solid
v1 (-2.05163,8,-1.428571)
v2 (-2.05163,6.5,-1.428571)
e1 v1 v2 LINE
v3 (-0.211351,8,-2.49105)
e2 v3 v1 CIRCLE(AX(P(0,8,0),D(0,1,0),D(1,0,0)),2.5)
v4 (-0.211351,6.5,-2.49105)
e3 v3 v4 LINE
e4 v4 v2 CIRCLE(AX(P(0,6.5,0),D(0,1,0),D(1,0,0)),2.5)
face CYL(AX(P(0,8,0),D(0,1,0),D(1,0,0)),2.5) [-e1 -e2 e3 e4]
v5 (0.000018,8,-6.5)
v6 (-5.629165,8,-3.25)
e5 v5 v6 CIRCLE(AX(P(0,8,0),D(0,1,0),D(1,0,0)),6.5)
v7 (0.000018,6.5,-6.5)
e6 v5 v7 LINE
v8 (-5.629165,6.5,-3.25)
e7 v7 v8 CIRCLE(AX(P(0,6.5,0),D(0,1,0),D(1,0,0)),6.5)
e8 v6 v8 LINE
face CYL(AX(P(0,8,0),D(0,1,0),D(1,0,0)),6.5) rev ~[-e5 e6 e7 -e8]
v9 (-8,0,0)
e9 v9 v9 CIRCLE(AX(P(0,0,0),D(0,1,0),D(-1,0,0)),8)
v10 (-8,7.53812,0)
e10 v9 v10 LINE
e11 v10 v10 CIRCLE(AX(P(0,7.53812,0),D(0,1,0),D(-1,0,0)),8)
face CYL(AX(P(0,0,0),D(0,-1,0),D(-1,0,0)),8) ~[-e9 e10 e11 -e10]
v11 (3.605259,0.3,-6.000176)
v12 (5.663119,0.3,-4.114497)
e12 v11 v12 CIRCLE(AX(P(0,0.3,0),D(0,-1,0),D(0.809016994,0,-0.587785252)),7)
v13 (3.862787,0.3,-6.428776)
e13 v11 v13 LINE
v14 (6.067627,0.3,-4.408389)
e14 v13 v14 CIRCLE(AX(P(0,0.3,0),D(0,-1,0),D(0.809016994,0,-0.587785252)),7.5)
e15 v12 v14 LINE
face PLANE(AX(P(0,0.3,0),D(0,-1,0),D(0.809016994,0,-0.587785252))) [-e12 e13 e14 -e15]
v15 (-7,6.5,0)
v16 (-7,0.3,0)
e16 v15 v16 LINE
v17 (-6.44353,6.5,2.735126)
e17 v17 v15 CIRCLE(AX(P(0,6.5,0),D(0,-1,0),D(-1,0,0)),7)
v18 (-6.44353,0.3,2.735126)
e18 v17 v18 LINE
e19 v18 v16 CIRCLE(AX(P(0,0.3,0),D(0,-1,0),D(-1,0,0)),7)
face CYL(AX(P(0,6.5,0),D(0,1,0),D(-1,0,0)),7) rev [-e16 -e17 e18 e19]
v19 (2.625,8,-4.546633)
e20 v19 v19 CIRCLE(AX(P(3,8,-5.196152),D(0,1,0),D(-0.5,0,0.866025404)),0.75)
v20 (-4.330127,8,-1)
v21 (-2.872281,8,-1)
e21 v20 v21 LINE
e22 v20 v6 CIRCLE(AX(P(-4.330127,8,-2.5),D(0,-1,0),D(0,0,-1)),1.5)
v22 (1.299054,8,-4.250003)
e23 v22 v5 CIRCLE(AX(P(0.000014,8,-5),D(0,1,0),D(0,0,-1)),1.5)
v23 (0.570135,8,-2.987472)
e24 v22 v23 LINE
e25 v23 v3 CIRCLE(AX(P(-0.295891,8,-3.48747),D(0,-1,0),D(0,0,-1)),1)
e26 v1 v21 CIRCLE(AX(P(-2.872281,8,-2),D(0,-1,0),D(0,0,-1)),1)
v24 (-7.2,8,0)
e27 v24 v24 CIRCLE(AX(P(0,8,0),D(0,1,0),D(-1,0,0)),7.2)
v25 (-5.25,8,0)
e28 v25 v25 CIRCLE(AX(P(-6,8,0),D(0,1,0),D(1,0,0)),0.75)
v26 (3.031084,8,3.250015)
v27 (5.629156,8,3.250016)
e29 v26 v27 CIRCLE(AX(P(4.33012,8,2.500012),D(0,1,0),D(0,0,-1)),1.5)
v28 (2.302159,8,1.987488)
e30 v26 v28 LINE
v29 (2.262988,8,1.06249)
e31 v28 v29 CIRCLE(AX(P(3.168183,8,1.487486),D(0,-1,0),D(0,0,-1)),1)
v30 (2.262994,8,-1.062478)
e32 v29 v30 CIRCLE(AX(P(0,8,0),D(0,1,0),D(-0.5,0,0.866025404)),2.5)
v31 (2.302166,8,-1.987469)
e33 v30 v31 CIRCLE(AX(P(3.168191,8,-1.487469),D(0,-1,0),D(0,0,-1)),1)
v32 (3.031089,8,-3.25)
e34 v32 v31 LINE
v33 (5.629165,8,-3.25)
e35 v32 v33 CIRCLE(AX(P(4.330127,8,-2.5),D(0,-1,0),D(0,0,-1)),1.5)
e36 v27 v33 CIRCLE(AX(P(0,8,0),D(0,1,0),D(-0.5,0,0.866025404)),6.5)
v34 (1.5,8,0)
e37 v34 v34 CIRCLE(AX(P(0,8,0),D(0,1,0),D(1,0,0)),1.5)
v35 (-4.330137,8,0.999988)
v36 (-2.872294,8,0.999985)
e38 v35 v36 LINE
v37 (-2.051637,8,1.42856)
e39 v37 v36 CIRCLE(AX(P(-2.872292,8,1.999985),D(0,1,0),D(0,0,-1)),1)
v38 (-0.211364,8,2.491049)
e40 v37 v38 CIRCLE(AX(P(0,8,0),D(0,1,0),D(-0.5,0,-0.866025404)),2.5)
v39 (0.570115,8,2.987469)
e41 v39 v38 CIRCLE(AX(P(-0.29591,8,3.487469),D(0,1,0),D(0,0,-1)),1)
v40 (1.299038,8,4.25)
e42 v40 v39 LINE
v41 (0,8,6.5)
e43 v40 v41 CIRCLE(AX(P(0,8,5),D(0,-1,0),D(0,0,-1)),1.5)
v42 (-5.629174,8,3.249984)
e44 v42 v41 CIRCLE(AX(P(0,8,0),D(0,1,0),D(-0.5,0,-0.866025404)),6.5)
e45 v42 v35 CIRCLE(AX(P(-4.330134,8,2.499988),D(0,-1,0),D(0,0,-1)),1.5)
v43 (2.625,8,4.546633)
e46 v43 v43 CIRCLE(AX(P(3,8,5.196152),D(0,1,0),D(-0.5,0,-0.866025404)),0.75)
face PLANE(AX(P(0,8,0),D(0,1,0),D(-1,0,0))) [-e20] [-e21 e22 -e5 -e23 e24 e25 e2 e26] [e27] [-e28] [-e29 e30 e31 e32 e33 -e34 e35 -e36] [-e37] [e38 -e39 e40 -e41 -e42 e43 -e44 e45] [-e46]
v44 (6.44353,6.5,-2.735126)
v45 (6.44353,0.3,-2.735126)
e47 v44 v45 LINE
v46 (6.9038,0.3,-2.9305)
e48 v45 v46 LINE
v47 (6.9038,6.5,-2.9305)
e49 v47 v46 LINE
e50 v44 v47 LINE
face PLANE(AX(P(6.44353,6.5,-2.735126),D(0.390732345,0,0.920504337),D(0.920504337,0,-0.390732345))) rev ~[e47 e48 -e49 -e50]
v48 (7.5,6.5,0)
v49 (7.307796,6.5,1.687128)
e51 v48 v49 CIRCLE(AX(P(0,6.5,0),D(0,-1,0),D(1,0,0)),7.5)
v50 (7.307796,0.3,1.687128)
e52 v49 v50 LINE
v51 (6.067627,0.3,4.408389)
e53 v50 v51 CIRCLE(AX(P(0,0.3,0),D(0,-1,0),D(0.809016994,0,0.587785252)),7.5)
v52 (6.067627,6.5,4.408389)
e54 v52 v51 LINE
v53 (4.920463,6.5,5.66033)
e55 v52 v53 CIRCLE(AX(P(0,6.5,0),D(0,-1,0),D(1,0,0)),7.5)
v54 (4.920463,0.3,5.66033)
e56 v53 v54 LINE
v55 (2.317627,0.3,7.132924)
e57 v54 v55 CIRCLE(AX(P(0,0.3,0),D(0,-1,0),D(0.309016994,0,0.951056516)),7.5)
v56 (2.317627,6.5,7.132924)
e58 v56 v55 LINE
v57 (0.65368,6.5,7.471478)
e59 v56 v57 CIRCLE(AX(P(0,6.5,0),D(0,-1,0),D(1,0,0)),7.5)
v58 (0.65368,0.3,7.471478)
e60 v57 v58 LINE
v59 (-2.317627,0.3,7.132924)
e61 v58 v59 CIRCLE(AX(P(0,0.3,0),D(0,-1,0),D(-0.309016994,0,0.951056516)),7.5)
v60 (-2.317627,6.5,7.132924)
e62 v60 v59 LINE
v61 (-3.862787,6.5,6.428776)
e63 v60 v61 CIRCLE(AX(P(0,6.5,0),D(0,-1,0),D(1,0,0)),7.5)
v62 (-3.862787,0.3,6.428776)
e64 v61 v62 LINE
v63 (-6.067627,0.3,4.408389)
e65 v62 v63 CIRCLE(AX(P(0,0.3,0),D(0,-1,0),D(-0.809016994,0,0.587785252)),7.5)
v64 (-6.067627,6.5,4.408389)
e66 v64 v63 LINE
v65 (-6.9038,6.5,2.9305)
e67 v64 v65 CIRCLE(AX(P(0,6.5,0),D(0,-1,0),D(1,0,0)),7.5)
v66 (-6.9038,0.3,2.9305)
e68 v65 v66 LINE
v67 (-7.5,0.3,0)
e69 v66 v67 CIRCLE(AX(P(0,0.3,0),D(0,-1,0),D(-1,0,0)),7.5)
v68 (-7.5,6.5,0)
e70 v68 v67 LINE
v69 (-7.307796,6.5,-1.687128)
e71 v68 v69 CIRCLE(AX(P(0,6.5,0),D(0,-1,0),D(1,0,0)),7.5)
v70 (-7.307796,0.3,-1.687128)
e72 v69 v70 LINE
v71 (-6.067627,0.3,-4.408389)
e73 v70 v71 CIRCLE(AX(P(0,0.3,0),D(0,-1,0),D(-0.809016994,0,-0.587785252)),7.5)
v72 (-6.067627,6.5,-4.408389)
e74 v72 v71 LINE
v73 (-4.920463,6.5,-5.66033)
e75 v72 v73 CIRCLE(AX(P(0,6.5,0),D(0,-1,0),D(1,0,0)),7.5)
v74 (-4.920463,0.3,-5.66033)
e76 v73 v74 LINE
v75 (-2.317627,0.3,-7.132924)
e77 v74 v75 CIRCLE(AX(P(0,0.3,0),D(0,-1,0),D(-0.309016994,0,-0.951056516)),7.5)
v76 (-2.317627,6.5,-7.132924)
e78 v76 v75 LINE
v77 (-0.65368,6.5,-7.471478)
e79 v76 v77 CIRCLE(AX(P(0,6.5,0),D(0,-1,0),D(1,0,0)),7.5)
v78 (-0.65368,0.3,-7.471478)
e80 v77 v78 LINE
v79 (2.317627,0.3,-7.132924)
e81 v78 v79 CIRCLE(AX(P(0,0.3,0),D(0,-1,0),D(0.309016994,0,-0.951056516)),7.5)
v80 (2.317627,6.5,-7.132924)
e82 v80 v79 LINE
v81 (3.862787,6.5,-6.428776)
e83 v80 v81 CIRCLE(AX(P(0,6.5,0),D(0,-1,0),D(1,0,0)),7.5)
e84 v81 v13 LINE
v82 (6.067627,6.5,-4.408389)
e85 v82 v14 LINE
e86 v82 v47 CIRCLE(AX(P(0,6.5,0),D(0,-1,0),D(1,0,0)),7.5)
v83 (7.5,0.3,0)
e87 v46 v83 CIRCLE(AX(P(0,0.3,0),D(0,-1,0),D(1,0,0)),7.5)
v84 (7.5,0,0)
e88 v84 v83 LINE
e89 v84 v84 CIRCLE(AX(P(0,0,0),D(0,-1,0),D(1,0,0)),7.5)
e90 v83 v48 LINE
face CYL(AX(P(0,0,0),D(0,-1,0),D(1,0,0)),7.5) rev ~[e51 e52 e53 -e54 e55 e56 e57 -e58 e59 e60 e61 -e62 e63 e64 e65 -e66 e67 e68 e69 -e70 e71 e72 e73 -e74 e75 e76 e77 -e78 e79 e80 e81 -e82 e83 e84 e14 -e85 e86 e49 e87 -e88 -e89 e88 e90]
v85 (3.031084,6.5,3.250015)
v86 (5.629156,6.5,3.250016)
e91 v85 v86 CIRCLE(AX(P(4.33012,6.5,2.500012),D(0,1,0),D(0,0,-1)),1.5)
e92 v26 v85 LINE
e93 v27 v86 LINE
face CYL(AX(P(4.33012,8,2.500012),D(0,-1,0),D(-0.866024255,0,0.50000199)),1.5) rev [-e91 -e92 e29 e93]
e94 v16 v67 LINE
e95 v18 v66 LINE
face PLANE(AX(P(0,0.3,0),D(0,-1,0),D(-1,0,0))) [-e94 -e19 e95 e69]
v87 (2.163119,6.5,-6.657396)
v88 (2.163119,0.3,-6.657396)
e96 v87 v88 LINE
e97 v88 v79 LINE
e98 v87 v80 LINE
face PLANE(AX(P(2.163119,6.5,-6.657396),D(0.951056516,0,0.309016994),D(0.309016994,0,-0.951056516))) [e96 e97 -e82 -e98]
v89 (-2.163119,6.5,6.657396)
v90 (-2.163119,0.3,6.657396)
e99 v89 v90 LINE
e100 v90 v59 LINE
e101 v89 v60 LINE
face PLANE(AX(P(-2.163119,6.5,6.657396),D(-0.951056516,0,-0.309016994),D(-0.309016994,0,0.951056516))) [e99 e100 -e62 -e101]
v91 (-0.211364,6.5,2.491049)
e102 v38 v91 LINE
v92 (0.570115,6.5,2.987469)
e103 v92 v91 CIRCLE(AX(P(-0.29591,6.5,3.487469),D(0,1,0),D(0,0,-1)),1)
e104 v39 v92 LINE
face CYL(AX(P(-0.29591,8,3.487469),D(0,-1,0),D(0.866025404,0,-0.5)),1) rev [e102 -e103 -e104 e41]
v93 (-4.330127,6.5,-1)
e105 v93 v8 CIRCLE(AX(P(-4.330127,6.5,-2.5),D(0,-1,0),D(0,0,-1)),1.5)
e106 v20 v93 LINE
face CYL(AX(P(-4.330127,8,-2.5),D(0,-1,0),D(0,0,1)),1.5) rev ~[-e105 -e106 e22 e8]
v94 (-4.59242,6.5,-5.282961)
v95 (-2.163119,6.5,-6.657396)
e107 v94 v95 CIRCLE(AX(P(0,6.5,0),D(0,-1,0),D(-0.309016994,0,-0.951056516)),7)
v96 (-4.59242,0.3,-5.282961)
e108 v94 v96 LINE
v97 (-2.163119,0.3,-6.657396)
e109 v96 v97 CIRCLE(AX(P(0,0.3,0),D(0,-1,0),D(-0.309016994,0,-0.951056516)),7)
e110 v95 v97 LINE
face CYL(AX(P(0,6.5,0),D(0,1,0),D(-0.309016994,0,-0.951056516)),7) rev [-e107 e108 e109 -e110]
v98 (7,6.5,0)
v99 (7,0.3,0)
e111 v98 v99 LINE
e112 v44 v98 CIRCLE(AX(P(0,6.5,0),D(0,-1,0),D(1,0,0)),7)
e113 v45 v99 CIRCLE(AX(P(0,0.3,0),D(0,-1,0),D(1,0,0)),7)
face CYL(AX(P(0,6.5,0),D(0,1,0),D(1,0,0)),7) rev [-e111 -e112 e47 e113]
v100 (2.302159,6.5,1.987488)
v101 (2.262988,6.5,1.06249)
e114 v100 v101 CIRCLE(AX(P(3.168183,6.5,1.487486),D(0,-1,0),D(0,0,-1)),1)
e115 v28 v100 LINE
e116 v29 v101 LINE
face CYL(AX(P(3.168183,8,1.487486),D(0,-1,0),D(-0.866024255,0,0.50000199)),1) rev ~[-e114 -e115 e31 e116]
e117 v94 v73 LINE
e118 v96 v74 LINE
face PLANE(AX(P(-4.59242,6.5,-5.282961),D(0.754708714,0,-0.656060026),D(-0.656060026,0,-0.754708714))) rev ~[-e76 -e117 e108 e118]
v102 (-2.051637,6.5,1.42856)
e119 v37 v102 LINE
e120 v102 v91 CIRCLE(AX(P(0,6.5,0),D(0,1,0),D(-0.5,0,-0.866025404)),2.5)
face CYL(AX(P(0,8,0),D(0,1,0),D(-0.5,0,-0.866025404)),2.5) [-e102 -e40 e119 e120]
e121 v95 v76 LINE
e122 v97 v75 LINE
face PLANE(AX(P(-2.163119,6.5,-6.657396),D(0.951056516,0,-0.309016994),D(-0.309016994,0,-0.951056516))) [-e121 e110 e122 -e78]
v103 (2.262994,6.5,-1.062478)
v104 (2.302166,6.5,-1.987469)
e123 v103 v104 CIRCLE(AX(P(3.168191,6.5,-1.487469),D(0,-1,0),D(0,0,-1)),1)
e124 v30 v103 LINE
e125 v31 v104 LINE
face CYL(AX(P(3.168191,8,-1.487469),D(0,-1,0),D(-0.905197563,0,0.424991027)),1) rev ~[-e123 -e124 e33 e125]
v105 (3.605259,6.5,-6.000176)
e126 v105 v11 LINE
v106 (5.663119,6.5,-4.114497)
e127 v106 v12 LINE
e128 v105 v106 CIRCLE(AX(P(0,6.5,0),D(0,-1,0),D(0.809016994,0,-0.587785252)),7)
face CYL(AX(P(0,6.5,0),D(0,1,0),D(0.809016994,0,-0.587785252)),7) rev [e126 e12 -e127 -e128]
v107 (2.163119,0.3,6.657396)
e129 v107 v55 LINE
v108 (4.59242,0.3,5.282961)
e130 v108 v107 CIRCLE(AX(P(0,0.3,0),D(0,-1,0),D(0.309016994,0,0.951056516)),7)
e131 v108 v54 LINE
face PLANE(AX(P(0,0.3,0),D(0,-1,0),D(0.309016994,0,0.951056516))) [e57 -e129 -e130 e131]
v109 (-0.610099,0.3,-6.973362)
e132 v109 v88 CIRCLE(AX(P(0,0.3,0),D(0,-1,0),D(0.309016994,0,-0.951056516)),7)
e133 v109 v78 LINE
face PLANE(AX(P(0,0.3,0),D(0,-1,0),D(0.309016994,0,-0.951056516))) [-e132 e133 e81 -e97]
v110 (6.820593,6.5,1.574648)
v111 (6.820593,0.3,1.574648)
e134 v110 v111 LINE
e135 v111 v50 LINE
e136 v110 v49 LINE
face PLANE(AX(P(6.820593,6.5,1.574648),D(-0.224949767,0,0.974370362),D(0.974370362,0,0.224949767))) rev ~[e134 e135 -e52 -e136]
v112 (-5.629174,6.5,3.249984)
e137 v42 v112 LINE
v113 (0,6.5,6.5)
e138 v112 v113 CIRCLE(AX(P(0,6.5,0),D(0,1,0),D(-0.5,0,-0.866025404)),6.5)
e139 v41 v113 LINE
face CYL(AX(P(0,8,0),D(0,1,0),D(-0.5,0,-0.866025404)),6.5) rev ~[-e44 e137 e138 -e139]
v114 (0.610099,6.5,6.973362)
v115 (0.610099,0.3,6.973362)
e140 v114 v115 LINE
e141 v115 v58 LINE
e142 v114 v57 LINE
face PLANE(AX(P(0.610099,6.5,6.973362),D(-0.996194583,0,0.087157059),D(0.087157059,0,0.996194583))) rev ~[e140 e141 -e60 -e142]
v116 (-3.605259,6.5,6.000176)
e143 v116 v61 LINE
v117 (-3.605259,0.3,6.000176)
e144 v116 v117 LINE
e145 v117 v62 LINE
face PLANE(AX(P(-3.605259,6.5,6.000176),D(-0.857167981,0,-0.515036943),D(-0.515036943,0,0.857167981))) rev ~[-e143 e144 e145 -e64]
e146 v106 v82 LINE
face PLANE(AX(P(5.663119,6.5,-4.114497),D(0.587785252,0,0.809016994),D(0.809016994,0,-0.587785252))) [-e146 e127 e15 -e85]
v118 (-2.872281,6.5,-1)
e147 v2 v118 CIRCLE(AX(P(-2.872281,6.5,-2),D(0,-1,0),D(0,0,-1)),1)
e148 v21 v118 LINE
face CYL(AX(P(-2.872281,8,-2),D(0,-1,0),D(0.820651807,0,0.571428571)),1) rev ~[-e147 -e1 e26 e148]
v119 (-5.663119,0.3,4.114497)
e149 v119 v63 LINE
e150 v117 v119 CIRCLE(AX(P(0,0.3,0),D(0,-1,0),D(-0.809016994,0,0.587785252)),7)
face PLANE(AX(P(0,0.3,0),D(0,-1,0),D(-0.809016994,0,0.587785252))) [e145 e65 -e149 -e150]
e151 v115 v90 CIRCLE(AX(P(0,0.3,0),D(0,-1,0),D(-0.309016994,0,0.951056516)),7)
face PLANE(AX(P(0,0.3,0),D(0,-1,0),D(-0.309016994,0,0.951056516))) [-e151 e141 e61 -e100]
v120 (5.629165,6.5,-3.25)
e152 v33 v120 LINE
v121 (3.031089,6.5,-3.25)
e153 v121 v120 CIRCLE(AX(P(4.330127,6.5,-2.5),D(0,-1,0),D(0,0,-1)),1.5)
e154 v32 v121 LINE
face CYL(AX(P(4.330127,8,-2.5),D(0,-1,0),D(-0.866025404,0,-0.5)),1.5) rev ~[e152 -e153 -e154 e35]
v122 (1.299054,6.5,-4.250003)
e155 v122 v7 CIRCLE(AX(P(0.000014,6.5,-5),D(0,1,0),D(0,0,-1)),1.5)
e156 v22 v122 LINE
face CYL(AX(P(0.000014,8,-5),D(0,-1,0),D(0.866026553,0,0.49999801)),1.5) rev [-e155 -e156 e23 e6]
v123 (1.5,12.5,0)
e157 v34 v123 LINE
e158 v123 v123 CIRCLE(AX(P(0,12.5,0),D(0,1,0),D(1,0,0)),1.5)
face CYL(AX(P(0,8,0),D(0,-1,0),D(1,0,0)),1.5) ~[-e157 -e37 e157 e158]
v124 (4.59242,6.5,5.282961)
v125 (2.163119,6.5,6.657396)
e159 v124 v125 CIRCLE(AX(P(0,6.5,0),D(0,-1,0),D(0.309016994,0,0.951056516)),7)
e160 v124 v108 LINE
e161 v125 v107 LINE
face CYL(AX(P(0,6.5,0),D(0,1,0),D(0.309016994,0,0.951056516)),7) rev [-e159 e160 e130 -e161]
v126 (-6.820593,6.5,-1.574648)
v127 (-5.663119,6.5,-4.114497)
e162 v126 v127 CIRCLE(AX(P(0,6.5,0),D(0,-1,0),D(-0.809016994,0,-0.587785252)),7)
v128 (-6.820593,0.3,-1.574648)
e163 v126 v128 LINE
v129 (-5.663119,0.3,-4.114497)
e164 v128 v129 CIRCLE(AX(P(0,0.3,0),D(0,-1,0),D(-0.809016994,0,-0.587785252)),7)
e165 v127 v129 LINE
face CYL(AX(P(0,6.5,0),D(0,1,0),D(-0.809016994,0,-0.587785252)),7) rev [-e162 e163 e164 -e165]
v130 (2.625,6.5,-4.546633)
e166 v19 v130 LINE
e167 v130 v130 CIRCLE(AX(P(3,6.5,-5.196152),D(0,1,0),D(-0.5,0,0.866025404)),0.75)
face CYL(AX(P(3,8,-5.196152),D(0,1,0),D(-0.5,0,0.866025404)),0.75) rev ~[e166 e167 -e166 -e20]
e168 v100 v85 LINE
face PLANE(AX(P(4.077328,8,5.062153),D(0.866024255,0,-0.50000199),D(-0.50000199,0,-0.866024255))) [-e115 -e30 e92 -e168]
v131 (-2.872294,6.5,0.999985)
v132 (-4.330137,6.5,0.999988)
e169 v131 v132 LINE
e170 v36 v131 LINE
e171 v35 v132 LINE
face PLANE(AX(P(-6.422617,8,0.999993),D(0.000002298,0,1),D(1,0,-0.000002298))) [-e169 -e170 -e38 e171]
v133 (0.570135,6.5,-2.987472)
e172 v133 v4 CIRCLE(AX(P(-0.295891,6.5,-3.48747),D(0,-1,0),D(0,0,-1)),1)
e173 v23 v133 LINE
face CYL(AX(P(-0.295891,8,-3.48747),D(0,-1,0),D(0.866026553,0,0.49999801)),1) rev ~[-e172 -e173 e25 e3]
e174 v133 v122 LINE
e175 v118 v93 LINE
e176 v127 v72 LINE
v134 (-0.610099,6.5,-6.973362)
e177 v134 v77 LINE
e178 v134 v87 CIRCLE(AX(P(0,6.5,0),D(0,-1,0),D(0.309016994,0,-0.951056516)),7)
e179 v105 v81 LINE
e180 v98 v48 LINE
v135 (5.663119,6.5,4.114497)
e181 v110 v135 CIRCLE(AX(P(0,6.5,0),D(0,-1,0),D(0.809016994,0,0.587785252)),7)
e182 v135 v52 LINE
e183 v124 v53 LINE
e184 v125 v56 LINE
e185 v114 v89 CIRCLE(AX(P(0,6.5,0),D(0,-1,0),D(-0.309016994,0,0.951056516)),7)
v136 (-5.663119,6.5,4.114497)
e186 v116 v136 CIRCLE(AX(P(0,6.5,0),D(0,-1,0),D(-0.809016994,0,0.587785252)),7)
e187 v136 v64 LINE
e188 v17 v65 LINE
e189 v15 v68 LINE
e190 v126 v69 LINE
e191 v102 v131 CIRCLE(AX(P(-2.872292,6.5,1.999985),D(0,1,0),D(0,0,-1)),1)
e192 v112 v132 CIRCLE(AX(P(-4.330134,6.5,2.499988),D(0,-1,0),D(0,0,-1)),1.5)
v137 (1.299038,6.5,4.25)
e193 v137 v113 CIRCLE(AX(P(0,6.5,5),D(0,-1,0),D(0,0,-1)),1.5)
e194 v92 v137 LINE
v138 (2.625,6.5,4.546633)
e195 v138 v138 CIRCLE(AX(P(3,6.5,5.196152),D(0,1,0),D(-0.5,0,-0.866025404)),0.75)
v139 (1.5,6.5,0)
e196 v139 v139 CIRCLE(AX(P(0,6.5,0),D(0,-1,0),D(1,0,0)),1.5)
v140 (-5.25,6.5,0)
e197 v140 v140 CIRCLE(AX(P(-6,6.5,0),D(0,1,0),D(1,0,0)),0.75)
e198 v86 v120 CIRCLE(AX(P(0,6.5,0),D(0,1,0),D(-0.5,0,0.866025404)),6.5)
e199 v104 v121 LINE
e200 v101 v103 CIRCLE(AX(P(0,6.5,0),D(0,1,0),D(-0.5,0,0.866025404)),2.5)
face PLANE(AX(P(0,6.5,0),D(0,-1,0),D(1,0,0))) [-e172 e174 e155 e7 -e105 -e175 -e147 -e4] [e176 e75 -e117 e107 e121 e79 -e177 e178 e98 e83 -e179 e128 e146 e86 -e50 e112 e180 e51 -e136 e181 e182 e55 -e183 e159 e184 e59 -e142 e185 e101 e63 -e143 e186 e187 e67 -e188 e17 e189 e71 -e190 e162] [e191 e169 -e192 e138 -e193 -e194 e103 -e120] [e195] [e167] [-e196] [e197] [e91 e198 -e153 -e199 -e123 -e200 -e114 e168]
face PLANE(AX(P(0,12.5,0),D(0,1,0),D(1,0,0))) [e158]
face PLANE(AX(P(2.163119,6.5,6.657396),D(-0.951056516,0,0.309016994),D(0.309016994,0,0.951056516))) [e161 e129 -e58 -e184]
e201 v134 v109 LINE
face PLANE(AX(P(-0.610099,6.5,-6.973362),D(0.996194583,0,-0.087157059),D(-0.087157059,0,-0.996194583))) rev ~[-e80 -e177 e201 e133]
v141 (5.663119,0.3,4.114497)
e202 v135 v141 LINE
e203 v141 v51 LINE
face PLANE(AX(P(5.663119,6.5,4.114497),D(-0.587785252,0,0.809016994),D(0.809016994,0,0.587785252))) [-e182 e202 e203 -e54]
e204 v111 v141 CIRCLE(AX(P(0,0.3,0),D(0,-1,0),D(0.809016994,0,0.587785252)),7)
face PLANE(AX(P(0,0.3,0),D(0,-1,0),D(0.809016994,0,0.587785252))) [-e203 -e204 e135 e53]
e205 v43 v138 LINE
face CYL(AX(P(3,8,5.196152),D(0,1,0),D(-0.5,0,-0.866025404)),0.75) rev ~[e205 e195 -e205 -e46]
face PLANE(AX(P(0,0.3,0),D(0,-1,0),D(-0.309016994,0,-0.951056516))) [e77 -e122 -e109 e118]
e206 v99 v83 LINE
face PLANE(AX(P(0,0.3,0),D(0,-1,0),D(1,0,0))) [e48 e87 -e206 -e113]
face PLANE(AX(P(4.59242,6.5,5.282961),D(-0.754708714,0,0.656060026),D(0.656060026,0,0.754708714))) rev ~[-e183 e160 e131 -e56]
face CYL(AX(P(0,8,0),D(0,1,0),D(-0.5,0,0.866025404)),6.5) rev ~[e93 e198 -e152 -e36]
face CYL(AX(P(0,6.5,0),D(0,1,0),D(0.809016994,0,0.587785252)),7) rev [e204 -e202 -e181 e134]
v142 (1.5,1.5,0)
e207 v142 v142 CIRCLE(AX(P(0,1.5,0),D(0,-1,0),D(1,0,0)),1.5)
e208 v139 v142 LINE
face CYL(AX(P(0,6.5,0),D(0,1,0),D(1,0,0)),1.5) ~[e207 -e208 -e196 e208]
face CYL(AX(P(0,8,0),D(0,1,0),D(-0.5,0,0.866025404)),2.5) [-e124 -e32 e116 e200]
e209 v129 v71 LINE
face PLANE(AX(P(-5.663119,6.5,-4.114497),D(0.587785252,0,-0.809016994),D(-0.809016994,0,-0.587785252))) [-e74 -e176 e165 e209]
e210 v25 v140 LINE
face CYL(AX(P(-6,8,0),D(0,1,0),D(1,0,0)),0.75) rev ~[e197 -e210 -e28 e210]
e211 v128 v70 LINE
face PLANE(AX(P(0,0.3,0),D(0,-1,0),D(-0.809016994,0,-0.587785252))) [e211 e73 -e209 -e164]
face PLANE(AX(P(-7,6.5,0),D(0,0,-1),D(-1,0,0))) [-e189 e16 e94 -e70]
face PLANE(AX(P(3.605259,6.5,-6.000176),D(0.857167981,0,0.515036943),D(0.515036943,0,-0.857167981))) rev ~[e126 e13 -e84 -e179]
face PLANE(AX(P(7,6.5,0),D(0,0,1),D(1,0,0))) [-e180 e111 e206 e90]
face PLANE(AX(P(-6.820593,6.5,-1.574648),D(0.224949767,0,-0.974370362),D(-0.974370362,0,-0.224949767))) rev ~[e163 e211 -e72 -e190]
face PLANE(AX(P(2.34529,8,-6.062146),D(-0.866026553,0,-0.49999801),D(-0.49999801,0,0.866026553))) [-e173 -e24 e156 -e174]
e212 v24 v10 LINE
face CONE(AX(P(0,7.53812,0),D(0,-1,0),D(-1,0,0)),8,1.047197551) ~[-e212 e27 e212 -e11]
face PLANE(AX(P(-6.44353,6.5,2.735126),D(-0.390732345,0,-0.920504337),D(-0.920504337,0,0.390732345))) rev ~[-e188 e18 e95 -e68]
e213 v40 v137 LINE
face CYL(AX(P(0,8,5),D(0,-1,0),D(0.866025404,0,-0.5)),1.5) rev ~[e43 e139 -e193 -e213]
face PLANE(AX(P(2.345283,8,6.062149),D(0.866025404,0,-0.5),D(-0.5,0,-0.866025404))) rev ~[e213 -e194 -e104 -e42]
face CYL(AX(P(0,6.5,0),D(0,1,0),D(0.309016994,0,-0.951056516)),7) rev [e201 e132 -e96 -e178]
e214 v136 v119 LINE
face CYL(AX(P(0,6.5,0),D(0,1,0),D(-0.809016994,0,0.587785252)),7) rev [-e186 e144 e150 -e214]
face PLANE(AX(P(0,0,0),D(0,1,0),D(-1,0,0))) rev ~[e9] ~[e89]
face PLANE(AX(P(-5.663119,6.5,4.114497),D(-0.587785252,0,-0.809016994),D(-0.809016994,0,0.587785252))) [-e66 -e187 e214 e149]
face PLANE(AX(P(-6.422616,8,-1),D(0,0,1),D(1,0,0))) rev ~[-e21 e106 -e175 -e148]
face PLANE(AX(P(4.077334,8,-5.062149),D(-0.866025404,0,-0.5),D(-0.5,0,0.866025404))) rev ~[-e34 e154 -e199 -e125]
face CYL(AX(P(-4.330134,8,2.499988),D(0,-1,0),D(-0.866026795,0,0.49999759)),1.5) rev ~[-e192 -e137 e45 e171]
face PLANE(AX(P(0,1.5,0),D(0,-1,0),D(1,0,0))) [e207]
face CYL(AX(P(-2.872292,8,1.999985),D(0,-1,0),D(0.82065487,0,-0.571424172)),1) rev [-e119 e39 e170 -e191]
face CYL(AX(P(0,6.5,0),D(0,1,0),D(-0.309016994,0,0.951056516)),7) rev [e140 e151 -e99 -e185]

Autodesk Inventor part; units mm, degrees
ref_plane "YZ Plane" through (0, 0, 0) normal (1, 0, 0) x (0, 1, 0)
ref_plane "XZ Plane" through (0, 0, 0) normal (0, 1, 0) x (-1, 0, 0)
ref_plane "XY Plane" through (0, 0, 0) normal (0, 0, 1) x (1, 0, 0)
sketch "Sketch1" plane through (0, 0, 0) normal (0, 1, 0) x (-1, 0, 0)
  circle A0 centre (0, 0) radius 8
  dimension "d0" = 16
extrude "Extrusion1" add sketch "Sketch1" along normal blind 8
sketch "Sketch2" plane through (0, 8, 0) normal (0, 1, 0) x (1, 0, 0)
  circle A0 centre (0, 0) radius 8 projected
  circle A1 centre (0, 0) radius 1.5
  dimension "d3" = 3
extrude "Extrusion2" add sketch "Sketch2" along normal blind 4.5 contours A1
sketch "Sketch3" plane through (0, 0, 0) normal (0, -1, 0) x (1, 0, 0)
  circle A0 centre (0, 0) radius 8 projected
  circle A1 centre (0, 0) radius 7.5
  dimension "d6" = 15
extrude "Extrusion3" cut sketch "Sketch3" against normal blind 6.5 contours A1
sketch "Sketch4" plane through (0, 6.5, 0) normal (0, -1, 0) x (1, 0, 0)
  circle A0 centre (0, 0) radius 7.5 projected
  circle A1 centre (0, 0) radius 7
  line L0 (0, 0) -> (7.5, 0)
  circle A2 centre (0, 0) radius 7.5 projected
  line L1 (0, 0) -> (6.9038, -2.9305)
  point P0 (6.4435, -2.7351)
  point P1 (6.9038, -2.9305)
  point P2 (7, 0)
  dimension "d9" = 14
  dimension "d10" = 23
extrude "Extrusion4" add sketch "Sketch4" along normal blind 6.2 contours A0 L1 A1 L0 picked at (6.8601, -2.5496)
pattern_circular "Circular Pattern1" count 10 over 360 about axis through (0, 0, 0) along (0, 1, 0) of "Extrusion4"
sketch "Sketch5" plane through (0, 8, 0) normal (0, 1, 0) x (1, 0, 0)
  circle A0 centre (0, 0) radius 2.5
  circle A1 centre (0, 0) radius 6.5
  line L0 (-10, -1) -> (-10, 1)
  line L1 (-10, 1) -> (10, 1)
  line L2 (10, 1) -> (10, -1)
  line L3 (10, -1) -> (-10, -1)
  line L4 (-10, -1) -> (10, 1) construction
  line L5 (-10, 1) -> (10, -1) construction
  line L6 (0, 0) -> (3.25, 5.6292)
  line L7 (0, 0) -> (-6.5, 0)
  line L8 (-5.866, -8.1603) -> (-4.134, -9.1603)
  line L9 (-4.134, -9.1603) -> (5.866, 8.1603)
  line L10 (5.866, 8.1603) -> (4.134, 9.1603)
  line L11 (4.134, 9.1603) -> (-5.866, -8.1603)
  line L12 (-5.866, -8.1603) -> (5.866, 8.1603) construction
  line L13 (-4.134, -9.1603) -> (4.134, 9.1603) construction
  point P0 (0.2796, 2.4843)
  point P1 (2.3453, 6.0621)
  point P2 (-6.4226, 1)
  point P3 (-2.2913, 1)
  dimension "d16" = 5
  dimension "d17" = 13
  dimension "d18" = 2
  dimension "d19" = 20
  dimension "d20" = 120
  dimension "d21" = 2
  dimension "d22" = 20
extrude "Extrusion5" cut sketch "Sketch5" against normal blind 6.2 contours A0 L1 A1 L11
pattern_circular "Circular Pattern2" count 3 over 360 about axis through (0, 8, 0) along (0, -1, 0) of "Extrusion5"
fillet "Fillet1" radius 1.5 2 edges at (-6.4226, 7.25, -1) (2.3453, 7.25, -6.0621)
pattern_circular "Circular Pattern3" count 3 over 360 about axis through (0, 8, 0) along (0, 1, 0) of "Fillet1"
fillet "Fillet2" radius 1 2 edges at (-2.2913, 7.25, -1) (0.2796, 7.25, -2.4843)
pattern_circular "Circular Pattern4" count 3 over 360 about axis through (0, 8, 0) along (0, 1, 0) of "Fillet2"
chamfer "Chamfer1" distance 0.8 angle 30 1 edges at (8, 8, 0) measured on face at (-6.1962, 8, 0)
sketch "Sketch6" plane through (0, 6.5, 0) normal (0, -1, 0) x (1, 0, 0)
  arc A0 (0, 6.5) -> (-5.6292, 3.25) centre (0, 0) ccw projected
  arc A1 (1.299, 4.25) -> (0, 6.5) centre (0, 5) ccw projected
  line L0 (1.299, 4.25) -> (0.5701, 2.9875) projected
  arc A2 (-0.2114, 2.491) -> (0.5701, 2.9875) centre (-0.2959, 3.4875) ccw projected
  arc A3 (-0.2114, 2.491) -> (-2.0516, 1.4286) centre (0, 0) ccw projected
  arc A4 (-2.8723, 1) -> (-2.0516, 1.4286) centre (-2.8723, 2) ccw projected
  line L1 (-2.8723, 1) -> (-4.3301, 1) projected
  arc A5 (-5.6292, 3.25) -> (-4.3301, 1) centre (-4.3301, 2.5) ccw projected
  arc A6 (5.6292, -3.25) -> (5.6292, 3.25) centre (0, 0) ccw projected
  arc A7 (3.0311, -3.25) -> (5.6292, -3.25) centre (4.3301, -2.5) ccw projected
  line L2 (3.0311, -3.25) -> (2.3022, -1.9875) projected
  arc A8 (2.263, -1.0625) -> (2.3022, -1.9875) centre (3.1682, -1.4875) ccw projected
  arc A9 (2.263, -1.0625) -> (2.263, 1.0625) centre (0, 0) ccw projected
  arc A10 (2.3022, 1.9875) -> (2.263, 1.0625) centre (3.1682, 1.4875) ccw projected
  line L3 (2.3022, 1.9875) -> (3.0311, 3.25) projected
  arc A11 (5.6292, 3.25) -> (3.0311, 3.25) centre (4.3301, 2.5) ccw projected
  arc A12 (-5.6292, -3.25) -> (0, -6.5) centre (0, 0) ccw projected
  arc A13 (-4.3301, -1) -> (-5.6292, -3.25) centre (-4.3301, -2.5) ccw projected
  line L4 (-4.3301, -1) -> (-2.8723, -1) projected
  arc A14 (-2.0516, -1.4286) -> (-2.8723, -1) centre (-2.8723, -2) ccw projected
  arc A15 (-2.0516, -1.4286) -> (-0.2114, -2.491) centre (0, 0) ccw projected
  arc A16 (0.5701, -2.9875) -> (-0.2114, -2.491) centre (-0.2959, -3.4875) ccw projected
  line L5 (0.5701, -2.9875) -> (1.299, -4.25) projected
  arc A17 (0, -6.5) -> (1.299, -4.25) centre (0, -5) ccw projected
  line L6 (7.3078, 1.6871) -> (6.8206, 1.5747) projected
  arc A18 (6.8206, 1.5747) -> (5.6631, 4.1145) centre (0, 0) ccw projected
  line L7 (5.6631, 4.1145) -> (6.0676, 4.4084) projected
  arc A19 (6.0676, 4.4084) -> (4.9204, 5.6603) centre (0, 0) ccw projected
  line L8 (4.9204, 5.6603) -> (4.5924, 5.283) projected
  arc A20 (4.5924, 5.283) -> (2.1631, 6.6574) centre (0, 0) ccw projected
  line L9 (2.1631, 6.6574) -> (2.3176, 7.1329) projected
  arc A21 (2.3176, 7.1329) -> (0.6537, 7.4715) centre (0, 0) ccw projected
  line L10 (0.6537, 7.4715) -> (0.6101, 6.9734) projected
  arc A22 (0.6101, 6.9734) -> (-2.1631, 6.6574) centre (0, 0) ccw projected
  line L11 (-2.1631, 6.6574) -> (-2.3176, 7.1329) projected
  arc A23 (-2.3176, 7.1329) -> (-3.8628, 6.4288) centre (0, 0) ccw projected
  line L12 (-3.8628, 6.4288) -> (-3.6053, 6.0002) projected
  arc A24 (-3.6053, 6.0002) -> (-5.6631, 4.1145) centre (0, 0) ccw projected
  line L13 (-5.6631, 4.1145) -> (-6.0676, 4.4084) projected
  arc A25 (-6.0676, 4.4084) -> (-6.9038, 2.9305) centre (0, 0) ccw projected
  line L14 (-6.9038, 2.9305) -> (-6.4435, 2.7351) projected
  arc A26 (-6.4435, 2.7351) -> (-7, 0) centre (0, 0) ccw projected
  line L15 (-7, 0) -> (-7.5, 0) projected
  arc A27 (-7.5, 0) -> (-7.3078, -1.6871) centre (0, 0) ccw projected
  line L16 (-7.3078, -1.6871) -> (-6.8206, -1.5747) projected
  arc A28 (-6.8206, -1.5747) -> (-5.6631, -4.1145) centre (0, 0) ccw projected
  line L17 (-5.6631, -4.1145) -> (-6.0676, -4.4084) projected
  arc A29 (-6.0676, -4.4084) -> (-4.9204, -5.6603) centre (0, 0) ccw projected
  line L18 (-4.9204, -5.6603) -> (-4.5924, -5.283) projected
  arc A30 (-4.5924, -5.283) -> (-2.1631, -6.6574) centre (0, 0) ccw projected
  line L19 (-2.1631, -6.6574) -> (-2.3176, -7.1329) projected
  arc A31 (-2.3176, -7.1329) -> (-0.6537, -7.4715) centre (0, 0) ccw projected
  line L20 (-0.6537, -7.4715) -> (-0.6101, -6.9734) projected
  arc A32 (-0.6101, -6.9734) -> (2.1631, -6.6574) centre (0, 0) ccw projected
  line L21 (2.1631, -6.6574) -> (2.3176, -7.1329) projected
  arc A33 (2.3176, -7.1329) -> (3.8628, -6.4288) centre (0, 0) ccw projected
  line L22 (3.8628, -6.4288) -> (3.6053, -6.0002) projected
  arc A34 (3.6053, -6.0002) -> (5.6631, -4.1145) centre (0, 0) ccw projected
  line L23 (5.6631, -4.1145) -> (6.0676, -4.4084) projected
  arc A35 (6.0676, -4.4084) -> (6.9038, -2.9305) centre (0, 0) ccw projected
  line L24 (6.9038, -2.9305) -> (6.4435, -2.7351) projected
  arc A36 (6.4435, -2.7351) -> (7, 0) centre (0, 0) ccw projected
  line L25 (7, 0) -> (7.5, 0) projected
  arc A37 (7.5, 0) -> (7.3078, 1.6871) centre (0, 0) ccw projected
  circle A38 centre (0, 0) radius 1.5
  dimension "d39" = 3
extrude "Extrusion6" add sketch "Sketch6" along normal blind 5 contours A38
sketch "Sketch7" plane through (0, 8, 0) normal (0, 1, 0) x (1, 0, 0)
  circle A0 centre (0, 0) radius 1.5 projected
  arc A1 (0, 6.5) -> (-5.6292, 3.25) centre (0, 0) ccw projected
  arc A2 (1.299, 4.25) -> (0, 6.5) centre (0, 5) ccw projected
  line L0 (1.299, 4.25) -> (0.5701, 2.9875) projected
  arc A3 (-0.2114, 2.491) -> (0.5701, 2.9875) centre (-0.2959, 3.4875) ccw projected
  arc A4 (-0.2114, 2.491) -> (-2.0516, 1.4286) centre (0, 0) ccw projected
  arc A5 (-2.8723, 1) -> (-2.0516, 1.4286) centre (-2.8723, 2) ccw projected
  line L1 (-2.8723, 1) -> (-4.3301, 1) projected
  arc A6 (-5.6292, 3.25) -> (-4.3301, 1) centre (-4.3301, 2.5) ccw projected
  arc A7 (5.6292, -3.25) -> (5.6292, 3.25) centre (0, 0) ccw projected
  arc A8 (3.0311, -3.25) -> (5.6292, -3.25) centre (4.3301, -2.5) ccw projected
  line L2 (3.0311, -3.25) -> (2.3022, -1.9875) projected
  arc A9 (2.263, -1.0625) -> (2.3022, -1.9875) centre (3.1682, -1.4875) ccw projected
  arc A10 (2.263, -1.0625) -> (2.263, 1.0625) centre (0, 0) ccw projected
  arc A11 (2.3022, 1.9875) -> (2.263, 1.0625) centre (3.1682, 1.4875) ccw projected
  line L3 (2.3022, 1.9875) -> (3.0311, 3.25) projected
  arc A12 (5.6292, 3.25) -> (3.0311, 3.25) centre (4.3301, 2.5) ccw projected
  arc A13 (-5.6292, -3.25) -> (0, -6.5) centre (0, 0) ccw projected
  arc A14 (-4.3301, -1) -> (-5.6292, -3.25) centre (-4.3301, -2.5) ccw projected
  line L4 (-4.3301, -1) -> (-2.8723, -1) projected
  arc A15 (-2.0516, -1.4286) -> (-2.8723, -1) centre (-2.8723, -2) ccw projected
  arc A16 (-2.0516, -1.4286) -> (-0.2114, -2.491) centre (0, 0) ccw projected
  arc A17 (0.5701, -2.9875) -> (-0.2114, -2.491) centre (-0.2959, -3.4875) ccw projected
  line L5 (0.5701, -2.9875) -> (1.299, -4.25) projected
  arc A18 (0, -6.5) -> (1.299, -4.25) centre (0, -5) ccw projected
  circle A19 centre (0, 0) radius 7.2 projected
  line L6 (0, 0) -> (-6, 0)
  circle A20 centre (-6, 0) radius 0.75
  dimension "d42" = 6
  dimension "d43" = 1.5
extrude "Extrusion7" cut sketch "Sketch7" against normal blind 5 contours A20
pattern_circular "Circular Pattern5" count 3 over 360 about axis through (0, 8, 0) along (0, 1, 0) of "Extrusion7"
properties part number "motor_1608_outer"
